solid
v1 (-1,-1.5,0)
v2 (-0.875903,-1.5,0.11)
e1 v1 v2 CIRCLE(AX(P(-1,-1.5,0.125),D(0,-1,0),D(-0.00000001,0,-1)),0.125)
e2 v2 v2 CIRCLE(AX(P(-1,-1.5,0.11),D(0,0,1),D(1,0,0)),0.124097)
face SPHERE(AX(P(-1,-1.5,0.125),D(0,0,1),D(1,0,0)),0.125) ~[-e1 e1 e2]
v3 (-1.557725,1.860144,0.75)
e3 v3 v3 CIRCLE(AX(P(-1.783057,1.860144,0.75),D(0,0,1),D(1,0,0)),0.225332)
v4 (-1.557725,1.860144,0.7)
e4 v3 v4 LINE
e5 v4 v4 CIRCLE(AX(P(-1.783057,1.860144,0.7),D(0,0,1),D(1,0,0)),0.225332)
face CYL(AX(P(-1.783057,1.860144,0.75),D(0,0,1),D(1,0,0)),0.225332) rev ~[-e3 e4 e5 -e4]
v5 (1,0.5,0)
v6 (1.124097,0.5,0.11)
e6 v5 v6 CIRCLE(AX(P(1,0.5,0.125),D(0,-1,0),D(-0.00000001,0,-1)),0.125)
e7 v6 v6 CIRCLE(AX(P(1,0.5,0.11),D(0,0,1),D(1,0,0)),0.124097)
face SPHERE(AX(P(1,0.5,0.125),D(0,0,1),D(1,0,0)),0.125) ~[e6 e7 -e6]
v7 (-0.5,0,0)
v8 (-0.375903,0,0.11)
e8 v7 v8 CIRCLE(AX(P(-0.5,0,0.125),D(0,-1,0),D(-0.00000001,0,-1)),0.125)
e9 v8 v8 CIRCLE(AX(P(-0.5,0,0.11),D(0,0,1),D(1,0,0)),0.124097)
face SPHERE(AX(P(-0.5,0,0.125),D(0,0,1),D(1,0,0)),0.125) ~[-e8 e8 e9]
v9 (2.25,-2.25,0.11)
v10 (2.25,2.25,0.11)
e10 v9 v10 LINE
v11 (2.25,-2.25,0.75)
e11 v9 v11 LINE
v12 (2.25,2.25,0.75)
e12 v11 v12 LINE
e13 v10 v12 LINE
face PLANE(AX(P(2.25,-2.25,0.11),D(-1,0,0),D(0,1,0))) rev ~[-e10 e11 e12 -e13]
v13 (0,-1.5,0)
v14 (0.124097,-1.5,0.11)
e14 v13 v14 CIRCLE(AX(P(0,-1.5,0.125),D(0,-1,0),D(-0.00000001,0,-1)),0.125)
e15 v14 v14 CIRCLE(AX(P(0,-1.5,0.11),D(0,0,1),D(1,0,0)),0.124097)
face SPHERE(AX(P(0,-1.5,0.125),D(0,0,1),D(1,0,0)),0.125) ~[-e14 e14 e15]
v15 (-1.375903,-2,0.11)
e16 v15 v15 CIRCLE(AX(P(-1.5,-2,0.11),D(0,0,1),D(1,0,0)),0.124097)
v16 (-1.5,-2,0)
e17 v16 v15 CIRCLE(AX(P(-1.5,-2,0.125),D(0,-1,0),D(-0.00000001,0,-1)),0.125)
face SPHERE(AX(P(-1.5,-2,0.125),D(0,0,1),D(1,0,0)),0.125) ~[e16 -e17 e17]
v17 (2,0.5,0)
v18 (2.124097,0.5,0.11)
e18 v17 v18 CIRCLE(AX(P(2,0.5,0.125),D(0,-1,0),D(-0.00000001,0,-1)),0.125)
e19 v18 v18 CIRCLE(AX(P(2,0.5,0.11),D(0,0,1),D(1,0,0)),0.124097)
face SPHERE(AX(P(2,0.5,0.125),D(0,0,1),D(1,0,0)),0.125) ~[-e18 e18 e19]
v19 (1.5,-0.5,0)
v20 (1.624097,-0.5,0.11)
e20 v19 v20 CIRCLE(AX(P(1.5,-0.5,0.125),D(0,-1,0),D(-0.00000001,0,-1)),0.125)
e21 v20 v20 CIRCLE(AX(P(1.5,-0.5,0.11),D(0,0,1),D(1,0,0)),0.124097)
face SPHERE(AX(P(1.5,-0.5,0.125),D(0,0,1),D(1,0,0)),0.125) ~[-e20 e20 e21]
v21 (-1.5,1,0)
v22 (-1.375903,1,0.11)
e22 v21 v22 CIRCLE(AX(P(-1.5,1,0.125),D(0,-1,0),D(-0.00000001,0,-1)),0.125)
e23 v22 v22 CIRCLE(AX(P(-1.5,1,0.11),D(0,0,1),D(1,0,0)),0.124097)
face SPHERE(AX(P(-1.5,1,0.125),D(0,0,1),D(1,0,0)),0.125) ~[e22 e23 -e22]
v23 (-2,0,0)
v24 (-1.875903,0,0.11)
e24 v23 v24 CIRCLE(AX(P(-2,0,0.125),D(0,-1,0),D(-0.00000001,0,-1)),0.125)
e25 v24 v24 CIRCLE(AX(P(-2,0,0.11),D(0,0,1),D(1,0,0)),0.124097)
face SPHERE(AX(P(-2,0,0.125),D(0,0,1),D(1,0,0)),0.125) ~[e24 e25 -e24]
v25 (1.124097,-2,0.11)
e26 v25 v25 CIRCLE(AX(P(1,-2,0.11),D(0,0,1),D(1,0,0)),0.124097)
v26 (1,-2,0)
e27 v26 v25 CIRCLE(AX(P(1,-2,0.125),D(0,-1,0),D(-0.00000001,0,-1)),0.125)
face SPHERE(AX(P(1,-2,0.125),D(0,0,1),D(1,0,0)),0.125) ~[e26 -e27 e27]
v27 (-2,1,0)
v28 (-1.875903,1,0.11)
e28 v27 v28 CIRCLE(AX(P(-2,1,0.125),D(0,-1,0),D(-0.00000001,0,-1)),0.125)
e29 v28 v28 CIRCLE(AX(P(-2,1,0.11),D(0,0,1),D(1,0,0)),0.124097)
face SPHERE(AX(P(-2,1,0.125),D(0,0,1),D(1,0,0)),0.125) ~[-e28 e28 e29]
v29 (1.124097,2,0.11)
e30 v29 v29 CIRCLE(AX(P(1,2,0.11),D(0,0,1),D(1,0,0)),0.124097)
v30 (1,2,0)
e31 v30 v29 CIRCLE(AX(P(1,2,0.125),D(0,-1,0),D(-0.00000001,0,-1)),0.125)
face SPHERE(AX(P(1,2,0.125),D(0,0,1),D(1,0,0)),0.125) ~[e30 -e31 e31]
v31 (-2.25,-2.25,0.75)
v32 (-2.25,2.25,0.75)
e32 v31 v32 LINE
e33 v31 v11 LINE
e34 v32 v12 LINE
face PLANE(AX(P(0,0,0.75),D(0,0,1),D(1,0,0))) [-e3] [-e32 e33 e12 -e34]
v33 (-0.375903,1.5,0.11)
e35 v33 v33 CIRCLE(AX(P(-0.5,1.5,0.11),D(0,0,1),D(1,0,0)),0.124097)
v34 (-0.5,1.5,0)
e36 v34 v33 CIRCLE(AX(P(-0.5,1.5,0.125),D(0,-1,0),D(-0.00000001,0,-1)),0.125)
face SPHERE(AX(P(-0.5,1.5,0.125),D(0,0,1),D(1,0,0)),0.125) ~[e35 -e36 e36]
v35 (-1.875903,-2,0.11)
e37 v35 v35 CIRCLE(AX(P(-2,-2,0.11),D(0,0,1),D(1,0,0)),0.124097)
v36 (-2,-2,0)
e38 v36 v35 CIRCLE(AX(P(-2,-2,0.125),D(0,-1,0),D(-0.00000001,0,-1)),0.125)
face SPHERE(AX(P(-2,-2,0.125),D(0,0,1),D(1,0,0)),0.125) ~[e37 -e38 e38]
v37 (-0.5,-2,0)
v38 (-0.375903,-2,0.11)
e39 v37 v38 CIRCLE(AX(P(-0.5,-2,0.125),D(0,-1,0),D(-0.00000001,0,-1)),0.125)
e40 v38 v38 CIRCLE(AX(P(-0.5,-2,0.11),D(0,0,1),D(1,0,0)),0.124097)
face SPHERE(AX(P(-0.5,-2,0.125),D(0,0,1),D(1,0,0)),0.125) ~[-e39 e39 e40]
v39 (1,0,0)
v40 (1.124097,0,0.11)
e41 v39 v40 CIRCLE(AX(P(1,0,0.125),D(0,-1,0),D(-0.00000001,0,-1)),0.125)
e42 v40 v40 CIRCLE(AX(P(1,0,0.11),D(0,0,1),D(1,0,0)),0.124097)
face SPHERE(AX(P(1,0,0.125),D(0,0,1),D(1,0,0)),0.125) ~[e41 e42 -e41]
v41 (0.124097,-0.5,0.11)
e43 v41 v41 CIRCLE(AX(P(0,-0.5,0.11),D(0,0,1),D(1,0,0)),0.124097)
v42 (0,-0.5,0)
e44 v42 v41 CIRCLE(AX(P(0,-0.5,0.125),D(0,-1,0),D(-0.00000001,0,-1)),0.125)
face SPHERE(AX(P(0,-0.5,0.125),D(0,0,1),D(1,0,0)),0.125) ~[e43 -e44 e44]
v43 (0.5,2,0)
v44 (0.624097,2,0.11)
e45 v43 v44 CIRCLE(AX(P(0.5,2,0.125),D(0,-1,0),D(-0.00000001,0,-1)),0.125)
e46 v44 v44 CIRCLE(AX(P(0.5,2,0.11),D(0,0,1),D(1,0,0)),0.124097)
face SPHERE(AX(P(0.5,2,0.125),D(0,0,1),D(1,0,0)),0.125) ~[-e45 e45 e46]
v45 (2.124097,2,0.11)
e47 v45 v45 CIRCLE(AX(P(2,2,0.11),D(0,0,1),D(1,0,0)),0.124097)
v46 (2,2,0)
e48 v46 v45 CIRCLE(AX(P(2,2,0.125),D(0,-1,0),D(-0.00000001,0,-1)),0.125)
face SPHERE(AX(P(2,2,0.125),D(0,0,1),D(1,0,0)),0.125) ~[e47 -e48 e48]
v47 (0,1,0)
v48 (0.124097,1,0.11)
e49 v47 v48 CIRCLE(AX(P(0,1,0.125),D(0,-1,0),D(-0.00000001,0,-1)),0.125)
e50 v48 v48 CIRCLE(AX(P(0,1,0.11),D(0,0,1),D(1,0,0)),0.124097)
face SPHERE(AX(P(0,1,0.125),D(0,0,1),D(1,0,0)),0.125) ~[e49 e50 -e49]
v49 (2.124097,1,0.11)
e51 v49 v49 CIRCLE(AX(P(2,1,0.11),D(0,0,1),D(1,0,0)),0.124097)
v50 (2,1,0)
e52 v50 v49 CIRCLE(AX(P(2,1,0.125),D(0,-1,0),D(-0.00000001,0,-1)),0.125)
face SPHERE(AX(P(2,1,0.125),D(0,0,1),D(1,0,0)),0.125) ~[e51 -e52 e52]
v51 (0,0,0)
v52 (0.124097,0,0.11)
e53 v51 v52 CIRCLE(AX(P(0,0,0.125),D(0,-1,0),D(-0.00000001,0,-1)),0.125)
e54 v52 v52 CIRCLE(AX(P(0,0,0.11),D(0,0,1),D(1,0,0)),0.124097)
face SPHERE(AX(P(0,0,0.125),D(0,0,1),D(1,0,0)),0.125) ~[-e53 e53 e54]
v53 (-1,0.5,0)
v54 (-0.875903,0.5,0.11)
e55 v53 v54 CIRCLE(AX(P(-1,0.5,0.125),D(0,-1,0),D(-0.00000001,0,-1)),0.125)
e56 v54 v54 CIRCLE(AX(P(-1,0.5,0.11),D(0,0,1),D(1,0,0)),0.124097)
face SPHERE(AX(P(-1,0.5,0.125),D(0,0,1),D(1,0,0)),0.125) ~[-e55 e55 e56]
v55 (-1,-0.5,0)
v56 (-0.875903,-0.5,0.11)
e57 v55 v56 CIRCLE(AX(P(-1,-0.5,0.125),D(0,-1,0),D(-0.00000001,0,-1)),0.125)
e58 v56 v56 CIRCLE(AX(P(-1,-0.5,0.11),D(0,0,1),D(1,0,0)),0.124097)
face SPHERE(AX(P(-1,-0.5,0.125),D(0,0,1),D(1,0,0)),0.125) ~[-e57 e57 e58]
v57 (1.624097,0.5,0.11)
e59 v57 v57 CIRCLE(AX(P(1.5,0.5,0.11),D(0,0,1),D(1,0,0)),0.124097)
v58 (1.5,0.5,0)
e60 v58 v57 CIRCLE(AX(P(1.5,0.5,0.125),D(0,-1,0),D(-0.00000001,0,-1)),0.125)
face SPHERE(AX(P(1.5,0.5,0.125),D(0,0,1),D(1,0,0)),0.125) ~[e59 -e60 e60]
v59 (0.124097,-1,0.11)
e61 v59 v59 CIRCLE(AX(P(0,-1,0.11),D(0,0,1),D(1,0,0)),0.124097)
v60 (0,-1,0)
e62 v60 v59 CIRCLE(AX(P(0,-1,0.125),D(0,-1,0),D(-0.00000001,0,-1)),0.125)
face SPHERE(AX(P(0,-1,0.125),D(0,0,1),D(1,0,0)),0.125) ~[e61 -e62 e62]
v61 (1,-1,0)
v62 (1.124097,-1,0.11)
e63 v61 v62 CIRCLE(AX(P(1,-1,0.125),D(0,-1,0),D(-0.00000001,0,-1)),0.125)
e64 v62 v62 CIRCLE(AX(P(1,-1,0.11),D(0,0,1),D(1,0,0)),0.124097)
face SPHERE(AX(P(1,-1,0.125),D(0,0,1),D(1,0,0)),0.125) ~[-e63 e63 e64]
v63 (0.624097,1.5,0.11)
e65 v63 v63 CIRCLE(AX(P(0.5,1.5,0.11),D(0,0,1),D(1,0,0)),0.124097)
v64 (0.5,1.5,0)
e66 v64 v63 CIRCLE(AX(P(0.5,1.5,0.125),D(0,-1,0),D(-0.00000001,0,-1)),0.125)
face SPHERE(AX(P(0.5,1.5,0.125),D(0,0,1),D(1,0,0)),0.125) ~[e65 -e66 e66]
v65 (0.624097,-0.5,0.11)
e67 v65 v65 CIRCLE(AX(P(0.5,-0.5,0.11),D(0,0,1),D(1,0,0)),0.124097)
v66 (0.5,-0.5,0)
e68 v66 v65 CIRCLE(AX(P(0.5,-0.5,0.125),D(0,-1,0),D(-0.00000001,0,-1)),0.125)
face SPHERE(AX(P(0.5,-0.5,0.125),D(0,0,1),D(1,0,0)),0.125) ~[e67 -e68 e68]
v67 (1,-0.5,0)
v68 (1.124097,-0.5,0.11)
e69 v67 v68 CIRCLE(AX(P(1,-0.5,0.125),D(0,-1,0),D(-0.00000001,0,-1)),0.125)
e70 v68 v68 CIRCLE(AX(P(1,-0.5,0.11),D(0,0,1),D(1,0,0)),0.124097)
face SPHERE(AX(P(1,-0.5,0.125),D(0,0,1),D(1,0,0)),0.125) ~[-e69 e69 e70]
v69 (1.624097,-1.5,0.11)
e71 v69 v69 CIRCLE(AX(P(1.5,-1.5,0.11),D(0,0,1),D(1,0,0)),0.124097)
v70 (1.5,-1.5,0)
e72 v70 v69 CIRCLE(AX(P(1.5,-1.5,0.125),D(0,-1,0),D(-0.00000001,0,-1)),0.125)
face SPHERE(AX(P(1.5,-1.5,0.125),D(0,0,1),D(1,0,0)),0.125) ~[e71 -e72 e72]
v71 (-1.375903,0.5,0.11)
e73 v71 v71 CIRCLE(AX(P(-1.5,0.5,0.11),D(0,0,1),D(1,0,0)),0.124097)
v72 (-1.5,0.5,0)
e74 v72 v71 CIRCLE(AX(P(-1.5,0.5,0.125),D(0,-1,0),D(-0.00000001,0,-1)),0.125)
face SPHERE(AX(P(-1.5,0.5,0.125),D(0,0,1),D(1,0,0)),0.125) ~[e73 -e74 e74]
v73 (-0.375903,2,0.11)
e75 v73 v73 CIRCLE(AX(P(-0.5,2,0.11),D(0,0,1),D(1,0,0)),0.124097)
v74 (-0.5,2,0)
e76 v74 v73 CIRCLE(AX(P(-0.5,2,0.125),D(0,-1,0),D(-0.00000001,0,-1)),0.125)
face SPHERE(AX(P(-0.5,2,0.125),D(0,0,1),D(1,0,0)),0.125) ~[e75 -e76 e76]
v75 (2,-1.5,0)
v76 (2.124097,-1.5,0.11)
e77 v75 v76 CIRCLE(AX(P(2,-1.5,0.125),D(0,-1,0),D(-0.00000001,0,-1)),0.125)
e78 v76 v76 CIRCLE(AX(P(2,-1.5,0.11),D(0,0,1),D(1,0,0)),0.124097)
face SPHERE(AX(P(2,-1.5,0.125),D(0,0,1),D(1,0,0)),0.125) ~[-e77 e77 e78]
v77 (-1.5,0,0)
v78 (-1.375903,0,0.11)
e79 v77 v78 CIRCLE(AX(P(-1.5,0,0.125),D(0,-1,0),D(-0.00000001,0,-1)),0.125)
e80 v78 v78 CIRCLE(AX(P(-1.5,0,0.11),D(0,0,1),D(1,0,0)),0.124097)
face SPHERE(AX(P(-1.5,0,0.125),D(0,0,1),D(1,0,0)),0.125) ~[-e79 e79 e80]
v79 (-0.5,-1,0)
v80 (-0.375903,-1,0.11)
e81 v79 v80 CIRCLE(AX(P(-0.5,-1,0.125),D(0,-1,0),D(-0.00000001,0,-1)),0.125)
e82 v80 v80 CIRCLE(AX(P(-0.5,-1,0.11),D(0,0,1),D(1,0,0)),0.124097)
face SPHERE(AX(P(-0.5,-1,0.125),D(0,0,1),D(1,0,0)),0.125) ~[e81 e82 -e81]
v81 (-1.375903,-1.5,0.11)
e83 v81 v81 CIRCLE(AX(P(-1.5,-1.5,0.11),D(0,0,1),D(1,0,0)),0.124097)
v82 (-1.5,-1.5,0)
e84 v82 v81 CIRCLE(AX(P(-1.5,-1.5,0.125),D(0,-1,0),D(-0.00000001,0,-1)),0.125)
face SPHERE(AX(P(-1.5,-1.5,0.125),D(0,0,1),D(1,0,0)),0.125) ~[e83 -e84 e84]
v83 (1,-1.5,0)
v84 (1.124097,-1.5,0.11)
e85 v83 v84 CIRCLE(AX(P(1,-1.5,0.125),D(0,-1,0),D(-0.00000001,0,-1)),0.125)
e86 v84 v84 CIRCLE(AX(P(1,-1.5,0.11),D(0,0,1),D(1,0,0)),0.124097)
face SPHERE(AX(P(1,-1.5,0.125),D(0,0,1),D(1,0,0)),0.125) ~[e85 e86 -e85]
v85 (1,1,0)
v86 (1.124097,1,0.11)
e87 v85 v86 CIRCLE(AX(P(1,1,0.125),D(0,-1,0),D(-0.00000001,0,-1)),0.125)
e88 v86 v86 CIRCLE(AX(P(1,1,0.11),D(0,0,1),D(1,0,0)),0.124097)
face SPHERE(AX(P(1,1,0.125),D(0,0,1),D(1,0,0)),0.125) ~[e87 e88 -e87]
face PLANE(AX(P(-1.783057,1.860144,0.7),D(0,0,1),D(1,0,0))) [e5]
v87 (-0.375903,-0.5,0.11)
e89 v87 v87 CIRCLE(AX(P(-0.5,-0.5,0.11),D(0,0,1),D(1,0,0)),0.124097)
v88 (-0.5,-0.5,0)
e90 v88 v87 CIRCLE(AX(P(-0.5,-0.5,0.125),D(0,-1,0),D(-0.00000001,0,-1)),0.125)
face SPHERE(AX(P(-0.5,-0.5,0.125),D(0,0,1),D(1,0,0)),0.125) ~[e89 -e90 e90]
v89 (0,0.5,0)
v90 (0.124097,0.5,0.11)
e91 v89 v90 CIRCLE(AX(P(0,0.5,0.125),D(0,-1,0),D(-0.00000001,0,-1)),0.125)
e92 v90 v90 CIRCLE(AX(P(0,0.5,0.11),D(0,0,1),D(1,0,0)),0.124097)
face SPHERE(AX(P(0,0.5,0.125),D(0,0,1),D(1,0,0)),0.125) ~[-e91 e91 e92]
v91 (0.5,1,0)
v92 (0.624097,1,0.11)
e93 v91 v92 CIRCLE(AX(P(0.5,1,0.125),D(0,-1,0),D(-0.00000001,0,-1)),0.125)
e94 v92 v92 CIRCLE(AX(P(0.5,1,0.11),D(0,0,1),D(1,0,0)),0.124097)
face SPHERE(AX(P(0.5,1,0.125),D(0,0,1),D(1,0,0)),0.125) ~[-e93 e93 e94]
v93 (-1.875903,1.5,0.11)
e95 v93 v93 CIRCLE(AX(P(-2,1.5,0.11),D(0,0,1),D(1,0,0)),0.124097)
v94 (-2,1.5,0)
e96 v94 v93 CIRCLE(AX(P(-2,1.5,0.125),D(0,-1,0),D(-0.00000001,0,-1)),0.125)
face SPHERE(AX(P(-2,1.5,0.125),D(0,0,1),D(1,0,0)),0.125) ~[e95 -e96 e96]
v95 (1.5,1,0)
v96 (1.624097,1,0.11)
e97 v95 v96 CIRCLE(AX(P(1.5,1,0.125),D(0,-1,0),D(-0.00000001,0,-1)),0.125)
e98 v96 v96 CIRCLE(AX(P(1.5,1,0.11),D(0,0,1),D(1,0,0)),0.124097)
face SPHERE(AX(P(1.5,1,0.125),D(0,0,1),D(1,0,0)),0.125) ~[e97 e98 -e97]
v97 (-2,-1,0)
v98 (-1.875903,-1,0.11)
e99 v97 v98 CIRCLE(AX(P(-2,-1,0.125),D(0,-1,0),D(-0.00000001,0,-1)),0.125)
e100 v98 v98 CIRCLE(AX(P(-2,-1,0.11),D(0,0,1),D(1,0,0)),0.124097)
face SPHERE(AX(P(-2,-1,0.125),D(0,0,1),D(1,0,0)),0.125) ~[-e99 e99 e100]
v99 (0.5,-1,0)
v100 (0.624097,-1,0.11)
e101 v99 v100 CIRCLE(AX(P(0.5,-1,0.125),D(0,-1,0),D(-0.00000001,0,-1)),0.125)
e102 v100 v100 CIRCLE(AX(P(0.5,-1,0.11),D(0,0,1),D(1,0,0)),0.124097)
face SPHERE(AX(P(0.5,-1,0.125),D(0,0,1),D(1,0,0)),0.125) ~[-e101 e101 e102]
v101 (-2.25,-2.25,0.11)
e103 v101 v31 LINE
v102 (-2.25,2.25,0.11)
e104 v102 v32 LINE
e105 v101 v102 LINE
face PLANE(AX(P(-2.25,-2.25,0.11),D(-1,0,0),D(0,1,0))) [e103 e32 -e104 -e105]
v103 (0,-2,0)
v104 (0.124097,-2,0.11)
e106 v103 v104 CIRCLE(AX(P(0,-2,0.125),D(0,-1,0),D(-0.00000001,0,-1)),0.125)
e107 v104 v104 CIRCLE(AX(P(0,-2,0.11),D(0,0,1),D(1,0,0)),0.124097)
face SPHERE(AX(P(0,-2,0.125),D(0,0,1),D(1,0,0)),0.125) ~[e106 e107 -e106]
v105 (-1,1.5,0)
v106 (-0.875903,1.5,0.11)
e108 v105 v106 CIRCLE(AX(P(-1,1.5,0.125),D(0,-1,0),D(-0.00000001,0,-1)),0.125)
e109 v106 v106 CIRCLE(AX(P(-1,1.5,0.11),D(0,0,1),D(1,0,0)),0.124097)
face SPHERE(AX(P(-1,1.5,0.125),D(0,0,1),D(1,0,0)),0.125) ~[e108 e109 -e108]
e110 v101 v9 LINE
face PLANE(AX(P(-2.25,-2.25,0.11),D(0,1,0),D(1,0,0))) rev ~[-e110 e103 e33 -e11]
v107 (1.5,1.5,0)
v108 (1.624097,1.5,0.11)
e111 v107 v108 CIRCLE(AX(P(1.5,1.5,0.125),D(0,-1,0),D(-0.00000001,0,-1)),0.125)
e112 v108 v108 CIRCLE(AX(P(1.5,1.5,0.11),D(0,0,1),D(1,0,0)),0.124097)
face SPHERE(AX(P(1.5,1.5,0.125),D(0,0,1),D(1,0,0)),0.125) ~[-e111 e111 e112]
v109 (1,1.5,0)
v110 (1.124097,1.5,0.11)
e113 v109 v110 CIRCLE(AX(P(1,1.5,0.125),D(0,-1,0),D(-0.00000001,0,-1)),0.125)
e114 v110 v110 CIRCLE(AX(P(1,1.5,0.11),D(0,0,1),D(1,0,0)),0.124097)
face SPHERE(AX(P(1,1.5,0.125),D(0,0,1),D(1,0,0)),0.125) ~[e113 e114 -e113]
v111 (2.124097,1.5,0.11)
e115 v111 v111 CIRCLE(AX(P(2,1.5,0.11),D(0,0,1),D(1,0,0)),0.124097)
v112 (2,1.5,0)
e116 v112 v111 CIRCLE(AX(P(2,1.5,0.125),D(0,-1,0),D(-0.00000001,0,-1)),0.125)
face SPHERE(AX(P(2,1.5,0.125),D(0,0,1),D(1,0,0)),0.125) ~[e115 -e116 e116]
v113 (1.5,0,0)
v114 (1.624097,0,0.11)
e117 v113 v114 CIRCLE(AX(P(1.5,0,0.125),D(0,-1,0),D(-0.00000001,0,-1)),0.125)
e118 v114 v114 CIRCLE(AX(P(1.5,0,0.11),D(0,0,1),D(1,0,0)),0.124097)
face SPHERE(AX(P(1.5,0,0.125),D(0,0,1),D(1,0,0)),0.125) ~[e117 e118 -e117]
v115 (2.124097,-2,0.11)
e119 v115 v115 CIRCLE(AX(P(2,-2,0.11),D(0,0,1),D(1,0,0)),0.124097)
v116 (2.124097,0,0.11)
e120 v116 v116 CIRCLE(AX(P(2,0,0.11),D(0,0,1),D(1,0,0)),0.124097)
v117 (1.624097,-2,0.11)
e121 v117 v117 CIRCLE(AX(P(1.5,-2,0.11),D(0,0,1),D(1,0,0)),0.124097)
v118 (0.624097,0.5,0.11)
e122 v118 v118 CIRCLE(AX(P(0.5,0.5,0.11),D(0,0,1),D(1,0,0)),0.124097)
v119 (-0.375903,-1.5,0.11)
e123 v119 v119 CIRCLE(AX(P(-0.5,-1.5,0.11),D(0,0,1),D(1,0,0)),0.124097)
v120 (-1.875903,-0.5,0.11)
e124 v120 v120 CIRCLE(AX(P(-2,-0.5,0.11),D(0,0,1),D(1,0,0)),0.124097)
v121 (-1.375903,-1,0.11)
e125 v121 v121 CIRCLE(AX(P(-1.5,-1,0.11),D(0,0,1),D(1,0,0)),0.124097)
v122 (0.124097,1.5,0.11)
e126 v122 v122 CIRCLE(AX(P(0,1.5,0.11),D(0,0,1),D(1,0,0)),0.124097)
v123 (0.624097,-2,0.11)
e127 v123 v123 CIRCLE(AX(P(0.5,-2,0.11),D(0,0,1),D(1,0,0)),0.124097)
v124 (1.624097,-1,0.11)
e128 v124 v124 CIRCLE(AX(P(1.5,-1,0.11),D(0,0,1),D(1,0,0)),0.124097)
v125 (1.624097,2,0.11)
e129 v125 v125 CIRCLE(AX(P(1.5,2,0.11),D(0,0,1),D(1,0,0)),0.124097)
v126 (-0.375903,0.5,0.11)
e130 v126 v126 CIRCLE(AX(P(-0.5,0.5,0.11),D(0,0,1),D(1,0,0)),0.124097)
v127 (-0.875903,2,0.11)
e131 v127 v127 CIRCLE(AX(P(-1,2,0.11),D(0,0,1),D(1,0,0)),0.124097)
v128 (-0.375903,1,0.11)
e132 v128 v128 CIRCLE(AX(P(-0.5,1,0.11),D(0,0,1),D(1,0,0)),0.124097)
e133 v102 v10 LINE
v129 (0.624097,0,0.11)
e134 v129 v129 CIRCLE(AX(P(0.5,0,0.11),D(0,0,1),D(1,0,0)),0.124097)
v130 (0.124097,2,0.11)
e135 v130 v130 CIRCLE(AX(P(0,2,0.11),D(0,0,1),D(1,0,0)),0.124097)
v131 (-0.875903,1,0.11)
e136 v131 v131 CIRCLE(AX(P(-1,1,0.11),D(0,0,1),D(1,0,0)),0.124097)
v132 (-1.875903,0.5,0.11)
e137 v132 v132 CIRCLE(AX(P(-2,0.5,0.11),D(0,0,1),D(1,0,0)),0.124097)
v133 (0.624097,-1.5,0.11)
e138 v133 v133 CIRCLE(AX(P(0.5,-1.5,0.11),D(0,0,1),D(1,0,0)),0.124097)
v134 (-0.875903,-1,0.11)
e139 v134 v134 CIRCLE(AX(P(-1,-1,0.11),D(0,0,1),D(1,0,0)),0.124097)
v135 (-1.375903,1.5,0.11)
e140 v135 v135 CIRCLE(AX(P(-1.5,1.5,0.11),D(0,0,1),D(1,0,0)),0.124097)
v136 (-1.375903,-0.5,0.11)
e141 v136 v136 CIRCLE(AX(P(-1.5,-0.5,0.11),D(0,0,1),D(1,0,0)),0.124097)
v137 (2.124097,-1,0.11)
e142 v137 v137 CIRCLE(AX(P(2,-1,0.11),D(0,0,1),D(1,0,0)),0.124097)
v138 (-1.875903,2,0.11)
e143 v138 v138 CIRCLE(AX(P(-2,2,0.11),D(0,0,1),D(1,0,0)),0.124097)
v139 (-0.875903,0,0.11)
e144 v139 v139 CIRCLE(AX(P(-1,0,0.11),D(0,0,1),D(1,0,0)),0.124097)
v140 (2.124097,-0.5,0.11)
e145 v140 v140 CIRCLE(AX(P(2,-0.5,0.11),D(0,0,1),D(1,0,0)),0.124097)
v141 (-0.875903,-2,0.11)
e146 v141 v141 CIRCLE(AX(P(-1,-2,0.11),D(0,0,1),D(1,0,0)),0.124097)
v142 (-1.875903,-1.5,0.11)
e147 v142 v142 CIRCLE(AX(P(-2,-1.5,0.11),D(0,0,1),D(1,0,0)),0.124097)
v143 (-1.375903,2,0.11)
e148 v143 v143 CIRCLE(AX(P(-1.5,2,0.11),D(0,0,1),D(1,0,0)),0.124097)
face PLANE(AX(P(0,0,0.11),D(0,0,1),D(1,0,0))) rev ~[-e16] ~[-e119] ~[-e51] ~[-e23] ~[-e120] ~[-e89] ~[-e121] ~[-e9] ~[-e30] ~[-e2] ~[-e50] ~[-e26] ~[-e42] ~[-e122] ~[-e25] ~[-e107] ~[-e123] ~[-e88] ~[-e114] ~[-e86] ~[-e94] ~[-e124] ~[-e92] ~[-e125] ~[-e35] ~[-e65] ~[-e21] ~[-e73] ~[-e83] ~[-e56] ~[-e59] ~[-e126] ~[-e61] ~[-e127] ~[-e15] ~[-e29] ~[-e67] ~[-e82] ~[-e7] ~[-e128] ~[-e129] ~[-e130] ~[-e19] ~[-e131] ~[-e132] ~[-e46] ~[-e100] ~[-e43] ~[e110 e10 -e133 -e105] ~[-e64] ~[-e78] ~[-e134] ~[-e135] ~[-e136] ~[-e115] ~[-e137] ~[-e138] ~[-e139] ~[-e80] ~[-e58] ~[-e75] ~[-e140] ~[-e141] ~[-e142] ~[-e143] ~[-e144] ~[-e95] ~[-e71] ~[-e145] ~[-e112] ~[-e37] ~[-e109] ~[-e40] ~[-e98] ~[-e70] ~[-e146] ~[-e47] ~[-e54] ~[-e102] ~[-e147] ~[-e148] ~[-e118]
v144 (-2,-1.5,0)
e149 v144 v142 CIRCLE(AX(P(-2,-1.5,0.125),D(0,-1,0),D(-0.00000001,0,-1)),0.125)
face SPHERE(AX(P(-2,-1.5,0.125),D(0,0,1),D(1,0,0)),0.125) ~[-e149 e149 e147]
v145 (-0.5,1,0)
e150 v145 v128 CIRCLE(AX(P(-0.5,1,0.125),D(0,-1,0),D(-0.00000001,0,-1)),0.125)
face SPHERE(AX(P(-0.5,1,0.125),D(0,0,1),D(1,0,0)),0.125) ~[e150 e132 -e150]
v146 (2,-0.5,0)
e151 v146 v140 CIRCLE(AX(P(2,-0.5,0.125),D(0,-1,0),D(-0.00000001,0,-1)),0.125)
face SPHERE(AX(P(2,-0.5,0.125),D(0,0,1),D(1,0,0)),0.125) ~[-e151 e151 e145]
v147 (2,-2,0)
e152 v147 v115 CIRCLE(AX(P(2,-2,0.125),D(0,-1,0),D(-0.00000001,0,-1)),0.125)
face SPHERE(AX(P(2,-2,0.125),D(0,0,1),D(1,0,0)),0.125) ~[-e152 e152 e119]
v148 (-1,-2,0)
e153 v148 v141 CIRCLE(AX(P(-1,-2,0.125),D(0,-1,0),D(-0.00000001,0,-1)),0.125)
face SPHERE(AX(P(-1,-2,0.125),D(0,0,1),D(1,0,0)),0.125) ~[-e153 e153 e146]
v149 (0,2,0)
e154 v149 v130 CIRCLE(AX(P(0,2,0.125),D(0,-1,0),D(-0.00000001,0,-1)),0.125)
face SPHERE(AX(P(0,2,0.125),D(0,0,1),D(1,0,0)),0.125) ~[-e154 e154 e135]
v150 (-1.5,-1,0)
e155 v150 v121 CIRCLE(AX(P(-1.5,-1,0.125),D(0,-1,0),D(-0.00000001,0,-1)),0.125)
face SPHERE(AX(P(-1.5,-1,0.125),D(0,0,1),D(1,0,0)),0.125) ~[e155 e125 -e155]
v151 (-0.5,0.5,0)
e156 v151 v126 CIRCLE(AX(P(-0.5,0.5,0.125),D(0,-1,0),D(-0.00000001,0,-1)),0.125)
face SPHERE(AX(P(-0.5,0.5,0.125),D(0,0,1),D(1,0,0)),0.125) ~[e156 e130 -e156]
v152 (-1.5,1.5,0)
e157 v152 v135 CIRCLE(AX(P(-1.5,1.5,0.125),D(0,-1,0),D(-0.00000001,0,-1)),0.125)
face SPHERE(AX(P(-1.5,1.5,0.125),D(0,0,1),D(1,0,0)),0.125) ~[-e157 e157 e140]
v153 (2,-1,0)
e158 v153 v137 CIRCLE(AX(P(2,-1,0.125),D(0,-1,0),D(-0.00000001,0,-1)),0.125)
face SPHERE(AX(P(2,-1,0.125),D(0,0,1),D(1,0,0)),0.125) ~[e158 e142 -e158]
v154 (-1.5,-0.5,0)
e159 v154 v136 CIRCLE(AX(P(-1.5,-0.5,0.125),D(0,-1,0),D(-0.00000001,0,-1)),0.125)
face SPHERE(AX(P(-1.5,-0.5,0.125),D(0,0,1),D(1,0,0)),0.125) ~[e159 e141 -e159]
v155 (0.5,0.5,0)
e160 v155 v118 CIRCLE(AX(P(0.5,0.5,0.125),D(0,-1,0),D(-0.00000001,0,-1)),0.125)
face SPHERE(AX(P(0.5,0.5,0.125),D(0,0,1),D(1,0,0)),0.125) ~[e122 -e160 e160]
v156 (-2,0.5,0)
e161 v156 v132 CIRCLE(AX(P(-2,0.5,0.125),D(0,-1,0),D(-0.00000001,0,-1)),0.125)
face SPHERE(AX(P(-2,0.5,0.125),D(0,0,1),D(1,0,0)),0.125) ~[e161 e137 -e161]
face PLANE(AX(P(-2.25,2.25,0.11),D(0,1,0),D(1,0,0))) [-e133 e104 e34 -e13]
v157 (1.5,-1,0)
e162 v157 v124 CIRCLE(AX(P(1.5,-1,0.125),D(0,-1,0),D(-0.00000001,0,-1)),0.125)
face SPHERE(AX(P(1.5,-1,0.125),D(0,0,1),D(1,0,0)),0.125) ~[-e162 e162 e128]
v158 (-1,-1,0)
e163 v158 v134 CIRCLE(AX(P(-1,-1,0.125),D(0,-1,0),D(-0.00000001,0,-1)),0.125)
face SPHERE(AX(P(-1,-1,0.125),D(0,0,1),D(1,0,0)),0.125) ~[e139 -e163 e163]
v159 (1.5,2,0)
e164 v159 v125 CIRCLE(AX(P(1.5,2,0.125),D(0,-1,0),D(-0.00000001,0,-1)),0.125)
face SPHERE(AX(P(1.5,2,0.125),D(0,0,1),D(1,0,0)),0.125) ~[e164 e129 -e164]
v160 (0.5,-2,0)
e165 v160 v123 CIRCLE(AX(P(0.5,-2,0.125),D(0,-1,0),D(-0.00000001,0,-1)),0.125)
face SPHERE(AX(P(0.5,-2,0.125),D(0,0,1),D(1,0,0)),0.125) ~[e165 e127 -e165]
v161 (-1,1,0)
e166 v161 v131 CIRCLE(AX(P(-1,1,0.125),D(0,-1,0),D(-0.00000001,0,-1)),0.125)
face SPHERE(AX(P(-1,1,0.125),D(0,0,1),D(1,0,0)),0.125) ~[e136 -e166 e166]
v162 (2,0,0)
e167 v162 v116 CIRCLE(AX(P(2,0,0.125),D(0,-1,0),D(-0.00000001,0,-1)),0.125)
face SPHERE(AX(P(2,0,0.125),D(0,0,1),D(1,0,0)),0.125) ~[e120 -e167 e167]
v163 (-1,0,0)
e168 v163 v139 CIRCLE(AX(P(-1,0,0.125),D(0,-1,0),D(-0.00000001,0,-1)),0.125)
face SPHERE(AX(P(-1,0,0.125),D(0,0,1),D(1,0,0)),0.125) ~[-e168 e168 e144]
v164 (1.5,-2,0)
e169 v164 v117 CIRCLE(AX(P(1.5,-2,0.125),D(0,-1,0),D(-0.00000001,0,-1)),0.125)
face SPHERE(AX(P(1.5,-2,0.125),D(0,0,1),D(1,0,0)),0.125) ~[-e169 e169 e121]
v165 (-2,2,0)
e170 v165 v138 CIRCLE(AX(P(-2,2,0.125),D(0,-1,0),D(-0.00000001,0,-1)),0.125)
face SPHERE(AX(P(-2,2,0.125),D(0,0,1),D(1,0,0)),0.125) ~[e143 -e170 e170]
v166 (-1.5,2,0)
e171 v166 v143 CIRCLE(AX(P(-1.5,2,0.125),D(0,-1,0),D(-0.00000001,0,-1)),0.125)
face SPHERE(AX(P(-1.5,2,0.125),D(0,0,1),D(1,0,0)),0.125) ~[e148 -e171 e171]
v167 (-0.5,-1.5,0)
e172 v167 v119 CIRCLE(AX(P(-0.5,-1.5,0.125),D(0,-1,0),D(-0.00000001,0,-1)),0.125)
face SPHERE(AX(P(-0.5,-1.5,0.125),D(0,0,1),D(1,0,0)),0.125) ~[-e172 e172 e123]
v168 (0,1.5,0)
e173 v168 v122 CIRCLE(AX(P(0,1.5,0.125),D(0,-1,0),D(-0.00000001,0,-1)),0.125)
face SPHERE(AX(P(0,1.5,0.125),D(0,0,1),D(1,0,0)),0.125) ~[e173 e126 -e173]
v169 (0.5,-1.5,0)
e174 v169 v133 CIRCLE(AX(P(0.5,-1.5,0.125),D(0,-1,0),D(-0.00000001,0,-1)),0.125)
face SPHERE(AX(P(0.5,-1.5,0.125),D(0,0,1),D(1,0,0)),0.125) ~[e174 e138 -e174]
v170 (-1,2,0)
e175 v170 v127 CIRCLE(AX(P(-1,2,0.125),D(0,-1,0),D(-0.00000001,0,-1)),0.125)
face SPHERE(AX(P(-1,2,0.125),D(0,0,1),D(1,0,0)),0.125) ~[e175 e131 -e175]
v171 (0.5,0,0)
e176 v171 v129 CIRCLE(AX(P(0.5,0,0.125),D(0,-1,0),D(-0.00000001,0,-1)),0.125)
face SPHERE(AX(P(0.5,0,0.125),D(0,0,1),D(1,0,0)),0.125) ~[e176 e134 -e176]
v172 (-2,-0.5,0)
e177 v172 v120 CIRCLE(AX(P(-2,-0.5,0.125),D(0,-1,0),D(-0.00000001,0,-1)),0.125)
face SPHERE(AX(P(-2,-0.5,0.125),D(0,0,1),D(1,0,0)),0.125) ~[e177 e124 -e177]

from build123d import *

# Parameters (mm, degrees)
BOSS_EXTRUDE1_START  = 0.11
SKETCH1_W            = 4.5
SKETCH1_H            = 4.5
BOSS_EXTRUDE1_DEPTH  = 0.64
LPATTERN1_COUNT      = 9
LPATTERN1_PITCH      = 0.5
LPATTERN1_COUNT_DIR2 = 9
LPATTERN1_PITCH_DIR2 = 0.5
SKETCH3_R            = 0.225332011
CUT_EXTRUDE1_DEPTH   = 0.05


with BuildPart() as part:
    # Sketch1 → Boss-Extrude1 (new body)
    with BuildSketch(Plane.XY.offset(BOSS_EXTRUDE1_START)):
        Rectangle(SKETCH1_W, SKETCH1_H)
    extrude(amount=BOSS_EXTRUDE1_DEPTH)

    # Sketch2 → Revolve1 (revolve)
    with BuildSketch(Plane(origin=(0, 2, 0), x_dir=(1, 0, 0), z_dir=(0, 1, 0))):
        with BuildLine():
            Line((-2, -0.125), (-2, 0))
            ThreePointArc((-2, 0), (-1.911611652, -0.036611652), (-1.875, -0.125))
            Line((-1.875, -0.125), (-2, -0.125))
        make_face()
    revolve1 = revolve(axis=Axis((-2, 2, 0.125), (0, 0, -1)))

    # LPattern1: Revolve1 9 × 9
    with Locations(*[(i * LPATTERN1_PITCH, -j * LPATTERN1_PITCH_DIR2, 0) for i in range(LPATTERN1_COUNT) for j in range(LPATTERN1_COUNT_DIR2) if (i, j) != (0, 0)]):
        add(revolve1)

    # Sketch3 → Cut-Extrude1 (cut)
    with BuildSketch(Plane.XY.offset(0.75)):
        with Locations((-1.783057329, 1.860144394)):
            Circle(SKETCH3_R)
    extrude(amount=-CUT_EXTRUDE1_DEPTH, mode=Mode.SUBTRACT)


solid = part.part
